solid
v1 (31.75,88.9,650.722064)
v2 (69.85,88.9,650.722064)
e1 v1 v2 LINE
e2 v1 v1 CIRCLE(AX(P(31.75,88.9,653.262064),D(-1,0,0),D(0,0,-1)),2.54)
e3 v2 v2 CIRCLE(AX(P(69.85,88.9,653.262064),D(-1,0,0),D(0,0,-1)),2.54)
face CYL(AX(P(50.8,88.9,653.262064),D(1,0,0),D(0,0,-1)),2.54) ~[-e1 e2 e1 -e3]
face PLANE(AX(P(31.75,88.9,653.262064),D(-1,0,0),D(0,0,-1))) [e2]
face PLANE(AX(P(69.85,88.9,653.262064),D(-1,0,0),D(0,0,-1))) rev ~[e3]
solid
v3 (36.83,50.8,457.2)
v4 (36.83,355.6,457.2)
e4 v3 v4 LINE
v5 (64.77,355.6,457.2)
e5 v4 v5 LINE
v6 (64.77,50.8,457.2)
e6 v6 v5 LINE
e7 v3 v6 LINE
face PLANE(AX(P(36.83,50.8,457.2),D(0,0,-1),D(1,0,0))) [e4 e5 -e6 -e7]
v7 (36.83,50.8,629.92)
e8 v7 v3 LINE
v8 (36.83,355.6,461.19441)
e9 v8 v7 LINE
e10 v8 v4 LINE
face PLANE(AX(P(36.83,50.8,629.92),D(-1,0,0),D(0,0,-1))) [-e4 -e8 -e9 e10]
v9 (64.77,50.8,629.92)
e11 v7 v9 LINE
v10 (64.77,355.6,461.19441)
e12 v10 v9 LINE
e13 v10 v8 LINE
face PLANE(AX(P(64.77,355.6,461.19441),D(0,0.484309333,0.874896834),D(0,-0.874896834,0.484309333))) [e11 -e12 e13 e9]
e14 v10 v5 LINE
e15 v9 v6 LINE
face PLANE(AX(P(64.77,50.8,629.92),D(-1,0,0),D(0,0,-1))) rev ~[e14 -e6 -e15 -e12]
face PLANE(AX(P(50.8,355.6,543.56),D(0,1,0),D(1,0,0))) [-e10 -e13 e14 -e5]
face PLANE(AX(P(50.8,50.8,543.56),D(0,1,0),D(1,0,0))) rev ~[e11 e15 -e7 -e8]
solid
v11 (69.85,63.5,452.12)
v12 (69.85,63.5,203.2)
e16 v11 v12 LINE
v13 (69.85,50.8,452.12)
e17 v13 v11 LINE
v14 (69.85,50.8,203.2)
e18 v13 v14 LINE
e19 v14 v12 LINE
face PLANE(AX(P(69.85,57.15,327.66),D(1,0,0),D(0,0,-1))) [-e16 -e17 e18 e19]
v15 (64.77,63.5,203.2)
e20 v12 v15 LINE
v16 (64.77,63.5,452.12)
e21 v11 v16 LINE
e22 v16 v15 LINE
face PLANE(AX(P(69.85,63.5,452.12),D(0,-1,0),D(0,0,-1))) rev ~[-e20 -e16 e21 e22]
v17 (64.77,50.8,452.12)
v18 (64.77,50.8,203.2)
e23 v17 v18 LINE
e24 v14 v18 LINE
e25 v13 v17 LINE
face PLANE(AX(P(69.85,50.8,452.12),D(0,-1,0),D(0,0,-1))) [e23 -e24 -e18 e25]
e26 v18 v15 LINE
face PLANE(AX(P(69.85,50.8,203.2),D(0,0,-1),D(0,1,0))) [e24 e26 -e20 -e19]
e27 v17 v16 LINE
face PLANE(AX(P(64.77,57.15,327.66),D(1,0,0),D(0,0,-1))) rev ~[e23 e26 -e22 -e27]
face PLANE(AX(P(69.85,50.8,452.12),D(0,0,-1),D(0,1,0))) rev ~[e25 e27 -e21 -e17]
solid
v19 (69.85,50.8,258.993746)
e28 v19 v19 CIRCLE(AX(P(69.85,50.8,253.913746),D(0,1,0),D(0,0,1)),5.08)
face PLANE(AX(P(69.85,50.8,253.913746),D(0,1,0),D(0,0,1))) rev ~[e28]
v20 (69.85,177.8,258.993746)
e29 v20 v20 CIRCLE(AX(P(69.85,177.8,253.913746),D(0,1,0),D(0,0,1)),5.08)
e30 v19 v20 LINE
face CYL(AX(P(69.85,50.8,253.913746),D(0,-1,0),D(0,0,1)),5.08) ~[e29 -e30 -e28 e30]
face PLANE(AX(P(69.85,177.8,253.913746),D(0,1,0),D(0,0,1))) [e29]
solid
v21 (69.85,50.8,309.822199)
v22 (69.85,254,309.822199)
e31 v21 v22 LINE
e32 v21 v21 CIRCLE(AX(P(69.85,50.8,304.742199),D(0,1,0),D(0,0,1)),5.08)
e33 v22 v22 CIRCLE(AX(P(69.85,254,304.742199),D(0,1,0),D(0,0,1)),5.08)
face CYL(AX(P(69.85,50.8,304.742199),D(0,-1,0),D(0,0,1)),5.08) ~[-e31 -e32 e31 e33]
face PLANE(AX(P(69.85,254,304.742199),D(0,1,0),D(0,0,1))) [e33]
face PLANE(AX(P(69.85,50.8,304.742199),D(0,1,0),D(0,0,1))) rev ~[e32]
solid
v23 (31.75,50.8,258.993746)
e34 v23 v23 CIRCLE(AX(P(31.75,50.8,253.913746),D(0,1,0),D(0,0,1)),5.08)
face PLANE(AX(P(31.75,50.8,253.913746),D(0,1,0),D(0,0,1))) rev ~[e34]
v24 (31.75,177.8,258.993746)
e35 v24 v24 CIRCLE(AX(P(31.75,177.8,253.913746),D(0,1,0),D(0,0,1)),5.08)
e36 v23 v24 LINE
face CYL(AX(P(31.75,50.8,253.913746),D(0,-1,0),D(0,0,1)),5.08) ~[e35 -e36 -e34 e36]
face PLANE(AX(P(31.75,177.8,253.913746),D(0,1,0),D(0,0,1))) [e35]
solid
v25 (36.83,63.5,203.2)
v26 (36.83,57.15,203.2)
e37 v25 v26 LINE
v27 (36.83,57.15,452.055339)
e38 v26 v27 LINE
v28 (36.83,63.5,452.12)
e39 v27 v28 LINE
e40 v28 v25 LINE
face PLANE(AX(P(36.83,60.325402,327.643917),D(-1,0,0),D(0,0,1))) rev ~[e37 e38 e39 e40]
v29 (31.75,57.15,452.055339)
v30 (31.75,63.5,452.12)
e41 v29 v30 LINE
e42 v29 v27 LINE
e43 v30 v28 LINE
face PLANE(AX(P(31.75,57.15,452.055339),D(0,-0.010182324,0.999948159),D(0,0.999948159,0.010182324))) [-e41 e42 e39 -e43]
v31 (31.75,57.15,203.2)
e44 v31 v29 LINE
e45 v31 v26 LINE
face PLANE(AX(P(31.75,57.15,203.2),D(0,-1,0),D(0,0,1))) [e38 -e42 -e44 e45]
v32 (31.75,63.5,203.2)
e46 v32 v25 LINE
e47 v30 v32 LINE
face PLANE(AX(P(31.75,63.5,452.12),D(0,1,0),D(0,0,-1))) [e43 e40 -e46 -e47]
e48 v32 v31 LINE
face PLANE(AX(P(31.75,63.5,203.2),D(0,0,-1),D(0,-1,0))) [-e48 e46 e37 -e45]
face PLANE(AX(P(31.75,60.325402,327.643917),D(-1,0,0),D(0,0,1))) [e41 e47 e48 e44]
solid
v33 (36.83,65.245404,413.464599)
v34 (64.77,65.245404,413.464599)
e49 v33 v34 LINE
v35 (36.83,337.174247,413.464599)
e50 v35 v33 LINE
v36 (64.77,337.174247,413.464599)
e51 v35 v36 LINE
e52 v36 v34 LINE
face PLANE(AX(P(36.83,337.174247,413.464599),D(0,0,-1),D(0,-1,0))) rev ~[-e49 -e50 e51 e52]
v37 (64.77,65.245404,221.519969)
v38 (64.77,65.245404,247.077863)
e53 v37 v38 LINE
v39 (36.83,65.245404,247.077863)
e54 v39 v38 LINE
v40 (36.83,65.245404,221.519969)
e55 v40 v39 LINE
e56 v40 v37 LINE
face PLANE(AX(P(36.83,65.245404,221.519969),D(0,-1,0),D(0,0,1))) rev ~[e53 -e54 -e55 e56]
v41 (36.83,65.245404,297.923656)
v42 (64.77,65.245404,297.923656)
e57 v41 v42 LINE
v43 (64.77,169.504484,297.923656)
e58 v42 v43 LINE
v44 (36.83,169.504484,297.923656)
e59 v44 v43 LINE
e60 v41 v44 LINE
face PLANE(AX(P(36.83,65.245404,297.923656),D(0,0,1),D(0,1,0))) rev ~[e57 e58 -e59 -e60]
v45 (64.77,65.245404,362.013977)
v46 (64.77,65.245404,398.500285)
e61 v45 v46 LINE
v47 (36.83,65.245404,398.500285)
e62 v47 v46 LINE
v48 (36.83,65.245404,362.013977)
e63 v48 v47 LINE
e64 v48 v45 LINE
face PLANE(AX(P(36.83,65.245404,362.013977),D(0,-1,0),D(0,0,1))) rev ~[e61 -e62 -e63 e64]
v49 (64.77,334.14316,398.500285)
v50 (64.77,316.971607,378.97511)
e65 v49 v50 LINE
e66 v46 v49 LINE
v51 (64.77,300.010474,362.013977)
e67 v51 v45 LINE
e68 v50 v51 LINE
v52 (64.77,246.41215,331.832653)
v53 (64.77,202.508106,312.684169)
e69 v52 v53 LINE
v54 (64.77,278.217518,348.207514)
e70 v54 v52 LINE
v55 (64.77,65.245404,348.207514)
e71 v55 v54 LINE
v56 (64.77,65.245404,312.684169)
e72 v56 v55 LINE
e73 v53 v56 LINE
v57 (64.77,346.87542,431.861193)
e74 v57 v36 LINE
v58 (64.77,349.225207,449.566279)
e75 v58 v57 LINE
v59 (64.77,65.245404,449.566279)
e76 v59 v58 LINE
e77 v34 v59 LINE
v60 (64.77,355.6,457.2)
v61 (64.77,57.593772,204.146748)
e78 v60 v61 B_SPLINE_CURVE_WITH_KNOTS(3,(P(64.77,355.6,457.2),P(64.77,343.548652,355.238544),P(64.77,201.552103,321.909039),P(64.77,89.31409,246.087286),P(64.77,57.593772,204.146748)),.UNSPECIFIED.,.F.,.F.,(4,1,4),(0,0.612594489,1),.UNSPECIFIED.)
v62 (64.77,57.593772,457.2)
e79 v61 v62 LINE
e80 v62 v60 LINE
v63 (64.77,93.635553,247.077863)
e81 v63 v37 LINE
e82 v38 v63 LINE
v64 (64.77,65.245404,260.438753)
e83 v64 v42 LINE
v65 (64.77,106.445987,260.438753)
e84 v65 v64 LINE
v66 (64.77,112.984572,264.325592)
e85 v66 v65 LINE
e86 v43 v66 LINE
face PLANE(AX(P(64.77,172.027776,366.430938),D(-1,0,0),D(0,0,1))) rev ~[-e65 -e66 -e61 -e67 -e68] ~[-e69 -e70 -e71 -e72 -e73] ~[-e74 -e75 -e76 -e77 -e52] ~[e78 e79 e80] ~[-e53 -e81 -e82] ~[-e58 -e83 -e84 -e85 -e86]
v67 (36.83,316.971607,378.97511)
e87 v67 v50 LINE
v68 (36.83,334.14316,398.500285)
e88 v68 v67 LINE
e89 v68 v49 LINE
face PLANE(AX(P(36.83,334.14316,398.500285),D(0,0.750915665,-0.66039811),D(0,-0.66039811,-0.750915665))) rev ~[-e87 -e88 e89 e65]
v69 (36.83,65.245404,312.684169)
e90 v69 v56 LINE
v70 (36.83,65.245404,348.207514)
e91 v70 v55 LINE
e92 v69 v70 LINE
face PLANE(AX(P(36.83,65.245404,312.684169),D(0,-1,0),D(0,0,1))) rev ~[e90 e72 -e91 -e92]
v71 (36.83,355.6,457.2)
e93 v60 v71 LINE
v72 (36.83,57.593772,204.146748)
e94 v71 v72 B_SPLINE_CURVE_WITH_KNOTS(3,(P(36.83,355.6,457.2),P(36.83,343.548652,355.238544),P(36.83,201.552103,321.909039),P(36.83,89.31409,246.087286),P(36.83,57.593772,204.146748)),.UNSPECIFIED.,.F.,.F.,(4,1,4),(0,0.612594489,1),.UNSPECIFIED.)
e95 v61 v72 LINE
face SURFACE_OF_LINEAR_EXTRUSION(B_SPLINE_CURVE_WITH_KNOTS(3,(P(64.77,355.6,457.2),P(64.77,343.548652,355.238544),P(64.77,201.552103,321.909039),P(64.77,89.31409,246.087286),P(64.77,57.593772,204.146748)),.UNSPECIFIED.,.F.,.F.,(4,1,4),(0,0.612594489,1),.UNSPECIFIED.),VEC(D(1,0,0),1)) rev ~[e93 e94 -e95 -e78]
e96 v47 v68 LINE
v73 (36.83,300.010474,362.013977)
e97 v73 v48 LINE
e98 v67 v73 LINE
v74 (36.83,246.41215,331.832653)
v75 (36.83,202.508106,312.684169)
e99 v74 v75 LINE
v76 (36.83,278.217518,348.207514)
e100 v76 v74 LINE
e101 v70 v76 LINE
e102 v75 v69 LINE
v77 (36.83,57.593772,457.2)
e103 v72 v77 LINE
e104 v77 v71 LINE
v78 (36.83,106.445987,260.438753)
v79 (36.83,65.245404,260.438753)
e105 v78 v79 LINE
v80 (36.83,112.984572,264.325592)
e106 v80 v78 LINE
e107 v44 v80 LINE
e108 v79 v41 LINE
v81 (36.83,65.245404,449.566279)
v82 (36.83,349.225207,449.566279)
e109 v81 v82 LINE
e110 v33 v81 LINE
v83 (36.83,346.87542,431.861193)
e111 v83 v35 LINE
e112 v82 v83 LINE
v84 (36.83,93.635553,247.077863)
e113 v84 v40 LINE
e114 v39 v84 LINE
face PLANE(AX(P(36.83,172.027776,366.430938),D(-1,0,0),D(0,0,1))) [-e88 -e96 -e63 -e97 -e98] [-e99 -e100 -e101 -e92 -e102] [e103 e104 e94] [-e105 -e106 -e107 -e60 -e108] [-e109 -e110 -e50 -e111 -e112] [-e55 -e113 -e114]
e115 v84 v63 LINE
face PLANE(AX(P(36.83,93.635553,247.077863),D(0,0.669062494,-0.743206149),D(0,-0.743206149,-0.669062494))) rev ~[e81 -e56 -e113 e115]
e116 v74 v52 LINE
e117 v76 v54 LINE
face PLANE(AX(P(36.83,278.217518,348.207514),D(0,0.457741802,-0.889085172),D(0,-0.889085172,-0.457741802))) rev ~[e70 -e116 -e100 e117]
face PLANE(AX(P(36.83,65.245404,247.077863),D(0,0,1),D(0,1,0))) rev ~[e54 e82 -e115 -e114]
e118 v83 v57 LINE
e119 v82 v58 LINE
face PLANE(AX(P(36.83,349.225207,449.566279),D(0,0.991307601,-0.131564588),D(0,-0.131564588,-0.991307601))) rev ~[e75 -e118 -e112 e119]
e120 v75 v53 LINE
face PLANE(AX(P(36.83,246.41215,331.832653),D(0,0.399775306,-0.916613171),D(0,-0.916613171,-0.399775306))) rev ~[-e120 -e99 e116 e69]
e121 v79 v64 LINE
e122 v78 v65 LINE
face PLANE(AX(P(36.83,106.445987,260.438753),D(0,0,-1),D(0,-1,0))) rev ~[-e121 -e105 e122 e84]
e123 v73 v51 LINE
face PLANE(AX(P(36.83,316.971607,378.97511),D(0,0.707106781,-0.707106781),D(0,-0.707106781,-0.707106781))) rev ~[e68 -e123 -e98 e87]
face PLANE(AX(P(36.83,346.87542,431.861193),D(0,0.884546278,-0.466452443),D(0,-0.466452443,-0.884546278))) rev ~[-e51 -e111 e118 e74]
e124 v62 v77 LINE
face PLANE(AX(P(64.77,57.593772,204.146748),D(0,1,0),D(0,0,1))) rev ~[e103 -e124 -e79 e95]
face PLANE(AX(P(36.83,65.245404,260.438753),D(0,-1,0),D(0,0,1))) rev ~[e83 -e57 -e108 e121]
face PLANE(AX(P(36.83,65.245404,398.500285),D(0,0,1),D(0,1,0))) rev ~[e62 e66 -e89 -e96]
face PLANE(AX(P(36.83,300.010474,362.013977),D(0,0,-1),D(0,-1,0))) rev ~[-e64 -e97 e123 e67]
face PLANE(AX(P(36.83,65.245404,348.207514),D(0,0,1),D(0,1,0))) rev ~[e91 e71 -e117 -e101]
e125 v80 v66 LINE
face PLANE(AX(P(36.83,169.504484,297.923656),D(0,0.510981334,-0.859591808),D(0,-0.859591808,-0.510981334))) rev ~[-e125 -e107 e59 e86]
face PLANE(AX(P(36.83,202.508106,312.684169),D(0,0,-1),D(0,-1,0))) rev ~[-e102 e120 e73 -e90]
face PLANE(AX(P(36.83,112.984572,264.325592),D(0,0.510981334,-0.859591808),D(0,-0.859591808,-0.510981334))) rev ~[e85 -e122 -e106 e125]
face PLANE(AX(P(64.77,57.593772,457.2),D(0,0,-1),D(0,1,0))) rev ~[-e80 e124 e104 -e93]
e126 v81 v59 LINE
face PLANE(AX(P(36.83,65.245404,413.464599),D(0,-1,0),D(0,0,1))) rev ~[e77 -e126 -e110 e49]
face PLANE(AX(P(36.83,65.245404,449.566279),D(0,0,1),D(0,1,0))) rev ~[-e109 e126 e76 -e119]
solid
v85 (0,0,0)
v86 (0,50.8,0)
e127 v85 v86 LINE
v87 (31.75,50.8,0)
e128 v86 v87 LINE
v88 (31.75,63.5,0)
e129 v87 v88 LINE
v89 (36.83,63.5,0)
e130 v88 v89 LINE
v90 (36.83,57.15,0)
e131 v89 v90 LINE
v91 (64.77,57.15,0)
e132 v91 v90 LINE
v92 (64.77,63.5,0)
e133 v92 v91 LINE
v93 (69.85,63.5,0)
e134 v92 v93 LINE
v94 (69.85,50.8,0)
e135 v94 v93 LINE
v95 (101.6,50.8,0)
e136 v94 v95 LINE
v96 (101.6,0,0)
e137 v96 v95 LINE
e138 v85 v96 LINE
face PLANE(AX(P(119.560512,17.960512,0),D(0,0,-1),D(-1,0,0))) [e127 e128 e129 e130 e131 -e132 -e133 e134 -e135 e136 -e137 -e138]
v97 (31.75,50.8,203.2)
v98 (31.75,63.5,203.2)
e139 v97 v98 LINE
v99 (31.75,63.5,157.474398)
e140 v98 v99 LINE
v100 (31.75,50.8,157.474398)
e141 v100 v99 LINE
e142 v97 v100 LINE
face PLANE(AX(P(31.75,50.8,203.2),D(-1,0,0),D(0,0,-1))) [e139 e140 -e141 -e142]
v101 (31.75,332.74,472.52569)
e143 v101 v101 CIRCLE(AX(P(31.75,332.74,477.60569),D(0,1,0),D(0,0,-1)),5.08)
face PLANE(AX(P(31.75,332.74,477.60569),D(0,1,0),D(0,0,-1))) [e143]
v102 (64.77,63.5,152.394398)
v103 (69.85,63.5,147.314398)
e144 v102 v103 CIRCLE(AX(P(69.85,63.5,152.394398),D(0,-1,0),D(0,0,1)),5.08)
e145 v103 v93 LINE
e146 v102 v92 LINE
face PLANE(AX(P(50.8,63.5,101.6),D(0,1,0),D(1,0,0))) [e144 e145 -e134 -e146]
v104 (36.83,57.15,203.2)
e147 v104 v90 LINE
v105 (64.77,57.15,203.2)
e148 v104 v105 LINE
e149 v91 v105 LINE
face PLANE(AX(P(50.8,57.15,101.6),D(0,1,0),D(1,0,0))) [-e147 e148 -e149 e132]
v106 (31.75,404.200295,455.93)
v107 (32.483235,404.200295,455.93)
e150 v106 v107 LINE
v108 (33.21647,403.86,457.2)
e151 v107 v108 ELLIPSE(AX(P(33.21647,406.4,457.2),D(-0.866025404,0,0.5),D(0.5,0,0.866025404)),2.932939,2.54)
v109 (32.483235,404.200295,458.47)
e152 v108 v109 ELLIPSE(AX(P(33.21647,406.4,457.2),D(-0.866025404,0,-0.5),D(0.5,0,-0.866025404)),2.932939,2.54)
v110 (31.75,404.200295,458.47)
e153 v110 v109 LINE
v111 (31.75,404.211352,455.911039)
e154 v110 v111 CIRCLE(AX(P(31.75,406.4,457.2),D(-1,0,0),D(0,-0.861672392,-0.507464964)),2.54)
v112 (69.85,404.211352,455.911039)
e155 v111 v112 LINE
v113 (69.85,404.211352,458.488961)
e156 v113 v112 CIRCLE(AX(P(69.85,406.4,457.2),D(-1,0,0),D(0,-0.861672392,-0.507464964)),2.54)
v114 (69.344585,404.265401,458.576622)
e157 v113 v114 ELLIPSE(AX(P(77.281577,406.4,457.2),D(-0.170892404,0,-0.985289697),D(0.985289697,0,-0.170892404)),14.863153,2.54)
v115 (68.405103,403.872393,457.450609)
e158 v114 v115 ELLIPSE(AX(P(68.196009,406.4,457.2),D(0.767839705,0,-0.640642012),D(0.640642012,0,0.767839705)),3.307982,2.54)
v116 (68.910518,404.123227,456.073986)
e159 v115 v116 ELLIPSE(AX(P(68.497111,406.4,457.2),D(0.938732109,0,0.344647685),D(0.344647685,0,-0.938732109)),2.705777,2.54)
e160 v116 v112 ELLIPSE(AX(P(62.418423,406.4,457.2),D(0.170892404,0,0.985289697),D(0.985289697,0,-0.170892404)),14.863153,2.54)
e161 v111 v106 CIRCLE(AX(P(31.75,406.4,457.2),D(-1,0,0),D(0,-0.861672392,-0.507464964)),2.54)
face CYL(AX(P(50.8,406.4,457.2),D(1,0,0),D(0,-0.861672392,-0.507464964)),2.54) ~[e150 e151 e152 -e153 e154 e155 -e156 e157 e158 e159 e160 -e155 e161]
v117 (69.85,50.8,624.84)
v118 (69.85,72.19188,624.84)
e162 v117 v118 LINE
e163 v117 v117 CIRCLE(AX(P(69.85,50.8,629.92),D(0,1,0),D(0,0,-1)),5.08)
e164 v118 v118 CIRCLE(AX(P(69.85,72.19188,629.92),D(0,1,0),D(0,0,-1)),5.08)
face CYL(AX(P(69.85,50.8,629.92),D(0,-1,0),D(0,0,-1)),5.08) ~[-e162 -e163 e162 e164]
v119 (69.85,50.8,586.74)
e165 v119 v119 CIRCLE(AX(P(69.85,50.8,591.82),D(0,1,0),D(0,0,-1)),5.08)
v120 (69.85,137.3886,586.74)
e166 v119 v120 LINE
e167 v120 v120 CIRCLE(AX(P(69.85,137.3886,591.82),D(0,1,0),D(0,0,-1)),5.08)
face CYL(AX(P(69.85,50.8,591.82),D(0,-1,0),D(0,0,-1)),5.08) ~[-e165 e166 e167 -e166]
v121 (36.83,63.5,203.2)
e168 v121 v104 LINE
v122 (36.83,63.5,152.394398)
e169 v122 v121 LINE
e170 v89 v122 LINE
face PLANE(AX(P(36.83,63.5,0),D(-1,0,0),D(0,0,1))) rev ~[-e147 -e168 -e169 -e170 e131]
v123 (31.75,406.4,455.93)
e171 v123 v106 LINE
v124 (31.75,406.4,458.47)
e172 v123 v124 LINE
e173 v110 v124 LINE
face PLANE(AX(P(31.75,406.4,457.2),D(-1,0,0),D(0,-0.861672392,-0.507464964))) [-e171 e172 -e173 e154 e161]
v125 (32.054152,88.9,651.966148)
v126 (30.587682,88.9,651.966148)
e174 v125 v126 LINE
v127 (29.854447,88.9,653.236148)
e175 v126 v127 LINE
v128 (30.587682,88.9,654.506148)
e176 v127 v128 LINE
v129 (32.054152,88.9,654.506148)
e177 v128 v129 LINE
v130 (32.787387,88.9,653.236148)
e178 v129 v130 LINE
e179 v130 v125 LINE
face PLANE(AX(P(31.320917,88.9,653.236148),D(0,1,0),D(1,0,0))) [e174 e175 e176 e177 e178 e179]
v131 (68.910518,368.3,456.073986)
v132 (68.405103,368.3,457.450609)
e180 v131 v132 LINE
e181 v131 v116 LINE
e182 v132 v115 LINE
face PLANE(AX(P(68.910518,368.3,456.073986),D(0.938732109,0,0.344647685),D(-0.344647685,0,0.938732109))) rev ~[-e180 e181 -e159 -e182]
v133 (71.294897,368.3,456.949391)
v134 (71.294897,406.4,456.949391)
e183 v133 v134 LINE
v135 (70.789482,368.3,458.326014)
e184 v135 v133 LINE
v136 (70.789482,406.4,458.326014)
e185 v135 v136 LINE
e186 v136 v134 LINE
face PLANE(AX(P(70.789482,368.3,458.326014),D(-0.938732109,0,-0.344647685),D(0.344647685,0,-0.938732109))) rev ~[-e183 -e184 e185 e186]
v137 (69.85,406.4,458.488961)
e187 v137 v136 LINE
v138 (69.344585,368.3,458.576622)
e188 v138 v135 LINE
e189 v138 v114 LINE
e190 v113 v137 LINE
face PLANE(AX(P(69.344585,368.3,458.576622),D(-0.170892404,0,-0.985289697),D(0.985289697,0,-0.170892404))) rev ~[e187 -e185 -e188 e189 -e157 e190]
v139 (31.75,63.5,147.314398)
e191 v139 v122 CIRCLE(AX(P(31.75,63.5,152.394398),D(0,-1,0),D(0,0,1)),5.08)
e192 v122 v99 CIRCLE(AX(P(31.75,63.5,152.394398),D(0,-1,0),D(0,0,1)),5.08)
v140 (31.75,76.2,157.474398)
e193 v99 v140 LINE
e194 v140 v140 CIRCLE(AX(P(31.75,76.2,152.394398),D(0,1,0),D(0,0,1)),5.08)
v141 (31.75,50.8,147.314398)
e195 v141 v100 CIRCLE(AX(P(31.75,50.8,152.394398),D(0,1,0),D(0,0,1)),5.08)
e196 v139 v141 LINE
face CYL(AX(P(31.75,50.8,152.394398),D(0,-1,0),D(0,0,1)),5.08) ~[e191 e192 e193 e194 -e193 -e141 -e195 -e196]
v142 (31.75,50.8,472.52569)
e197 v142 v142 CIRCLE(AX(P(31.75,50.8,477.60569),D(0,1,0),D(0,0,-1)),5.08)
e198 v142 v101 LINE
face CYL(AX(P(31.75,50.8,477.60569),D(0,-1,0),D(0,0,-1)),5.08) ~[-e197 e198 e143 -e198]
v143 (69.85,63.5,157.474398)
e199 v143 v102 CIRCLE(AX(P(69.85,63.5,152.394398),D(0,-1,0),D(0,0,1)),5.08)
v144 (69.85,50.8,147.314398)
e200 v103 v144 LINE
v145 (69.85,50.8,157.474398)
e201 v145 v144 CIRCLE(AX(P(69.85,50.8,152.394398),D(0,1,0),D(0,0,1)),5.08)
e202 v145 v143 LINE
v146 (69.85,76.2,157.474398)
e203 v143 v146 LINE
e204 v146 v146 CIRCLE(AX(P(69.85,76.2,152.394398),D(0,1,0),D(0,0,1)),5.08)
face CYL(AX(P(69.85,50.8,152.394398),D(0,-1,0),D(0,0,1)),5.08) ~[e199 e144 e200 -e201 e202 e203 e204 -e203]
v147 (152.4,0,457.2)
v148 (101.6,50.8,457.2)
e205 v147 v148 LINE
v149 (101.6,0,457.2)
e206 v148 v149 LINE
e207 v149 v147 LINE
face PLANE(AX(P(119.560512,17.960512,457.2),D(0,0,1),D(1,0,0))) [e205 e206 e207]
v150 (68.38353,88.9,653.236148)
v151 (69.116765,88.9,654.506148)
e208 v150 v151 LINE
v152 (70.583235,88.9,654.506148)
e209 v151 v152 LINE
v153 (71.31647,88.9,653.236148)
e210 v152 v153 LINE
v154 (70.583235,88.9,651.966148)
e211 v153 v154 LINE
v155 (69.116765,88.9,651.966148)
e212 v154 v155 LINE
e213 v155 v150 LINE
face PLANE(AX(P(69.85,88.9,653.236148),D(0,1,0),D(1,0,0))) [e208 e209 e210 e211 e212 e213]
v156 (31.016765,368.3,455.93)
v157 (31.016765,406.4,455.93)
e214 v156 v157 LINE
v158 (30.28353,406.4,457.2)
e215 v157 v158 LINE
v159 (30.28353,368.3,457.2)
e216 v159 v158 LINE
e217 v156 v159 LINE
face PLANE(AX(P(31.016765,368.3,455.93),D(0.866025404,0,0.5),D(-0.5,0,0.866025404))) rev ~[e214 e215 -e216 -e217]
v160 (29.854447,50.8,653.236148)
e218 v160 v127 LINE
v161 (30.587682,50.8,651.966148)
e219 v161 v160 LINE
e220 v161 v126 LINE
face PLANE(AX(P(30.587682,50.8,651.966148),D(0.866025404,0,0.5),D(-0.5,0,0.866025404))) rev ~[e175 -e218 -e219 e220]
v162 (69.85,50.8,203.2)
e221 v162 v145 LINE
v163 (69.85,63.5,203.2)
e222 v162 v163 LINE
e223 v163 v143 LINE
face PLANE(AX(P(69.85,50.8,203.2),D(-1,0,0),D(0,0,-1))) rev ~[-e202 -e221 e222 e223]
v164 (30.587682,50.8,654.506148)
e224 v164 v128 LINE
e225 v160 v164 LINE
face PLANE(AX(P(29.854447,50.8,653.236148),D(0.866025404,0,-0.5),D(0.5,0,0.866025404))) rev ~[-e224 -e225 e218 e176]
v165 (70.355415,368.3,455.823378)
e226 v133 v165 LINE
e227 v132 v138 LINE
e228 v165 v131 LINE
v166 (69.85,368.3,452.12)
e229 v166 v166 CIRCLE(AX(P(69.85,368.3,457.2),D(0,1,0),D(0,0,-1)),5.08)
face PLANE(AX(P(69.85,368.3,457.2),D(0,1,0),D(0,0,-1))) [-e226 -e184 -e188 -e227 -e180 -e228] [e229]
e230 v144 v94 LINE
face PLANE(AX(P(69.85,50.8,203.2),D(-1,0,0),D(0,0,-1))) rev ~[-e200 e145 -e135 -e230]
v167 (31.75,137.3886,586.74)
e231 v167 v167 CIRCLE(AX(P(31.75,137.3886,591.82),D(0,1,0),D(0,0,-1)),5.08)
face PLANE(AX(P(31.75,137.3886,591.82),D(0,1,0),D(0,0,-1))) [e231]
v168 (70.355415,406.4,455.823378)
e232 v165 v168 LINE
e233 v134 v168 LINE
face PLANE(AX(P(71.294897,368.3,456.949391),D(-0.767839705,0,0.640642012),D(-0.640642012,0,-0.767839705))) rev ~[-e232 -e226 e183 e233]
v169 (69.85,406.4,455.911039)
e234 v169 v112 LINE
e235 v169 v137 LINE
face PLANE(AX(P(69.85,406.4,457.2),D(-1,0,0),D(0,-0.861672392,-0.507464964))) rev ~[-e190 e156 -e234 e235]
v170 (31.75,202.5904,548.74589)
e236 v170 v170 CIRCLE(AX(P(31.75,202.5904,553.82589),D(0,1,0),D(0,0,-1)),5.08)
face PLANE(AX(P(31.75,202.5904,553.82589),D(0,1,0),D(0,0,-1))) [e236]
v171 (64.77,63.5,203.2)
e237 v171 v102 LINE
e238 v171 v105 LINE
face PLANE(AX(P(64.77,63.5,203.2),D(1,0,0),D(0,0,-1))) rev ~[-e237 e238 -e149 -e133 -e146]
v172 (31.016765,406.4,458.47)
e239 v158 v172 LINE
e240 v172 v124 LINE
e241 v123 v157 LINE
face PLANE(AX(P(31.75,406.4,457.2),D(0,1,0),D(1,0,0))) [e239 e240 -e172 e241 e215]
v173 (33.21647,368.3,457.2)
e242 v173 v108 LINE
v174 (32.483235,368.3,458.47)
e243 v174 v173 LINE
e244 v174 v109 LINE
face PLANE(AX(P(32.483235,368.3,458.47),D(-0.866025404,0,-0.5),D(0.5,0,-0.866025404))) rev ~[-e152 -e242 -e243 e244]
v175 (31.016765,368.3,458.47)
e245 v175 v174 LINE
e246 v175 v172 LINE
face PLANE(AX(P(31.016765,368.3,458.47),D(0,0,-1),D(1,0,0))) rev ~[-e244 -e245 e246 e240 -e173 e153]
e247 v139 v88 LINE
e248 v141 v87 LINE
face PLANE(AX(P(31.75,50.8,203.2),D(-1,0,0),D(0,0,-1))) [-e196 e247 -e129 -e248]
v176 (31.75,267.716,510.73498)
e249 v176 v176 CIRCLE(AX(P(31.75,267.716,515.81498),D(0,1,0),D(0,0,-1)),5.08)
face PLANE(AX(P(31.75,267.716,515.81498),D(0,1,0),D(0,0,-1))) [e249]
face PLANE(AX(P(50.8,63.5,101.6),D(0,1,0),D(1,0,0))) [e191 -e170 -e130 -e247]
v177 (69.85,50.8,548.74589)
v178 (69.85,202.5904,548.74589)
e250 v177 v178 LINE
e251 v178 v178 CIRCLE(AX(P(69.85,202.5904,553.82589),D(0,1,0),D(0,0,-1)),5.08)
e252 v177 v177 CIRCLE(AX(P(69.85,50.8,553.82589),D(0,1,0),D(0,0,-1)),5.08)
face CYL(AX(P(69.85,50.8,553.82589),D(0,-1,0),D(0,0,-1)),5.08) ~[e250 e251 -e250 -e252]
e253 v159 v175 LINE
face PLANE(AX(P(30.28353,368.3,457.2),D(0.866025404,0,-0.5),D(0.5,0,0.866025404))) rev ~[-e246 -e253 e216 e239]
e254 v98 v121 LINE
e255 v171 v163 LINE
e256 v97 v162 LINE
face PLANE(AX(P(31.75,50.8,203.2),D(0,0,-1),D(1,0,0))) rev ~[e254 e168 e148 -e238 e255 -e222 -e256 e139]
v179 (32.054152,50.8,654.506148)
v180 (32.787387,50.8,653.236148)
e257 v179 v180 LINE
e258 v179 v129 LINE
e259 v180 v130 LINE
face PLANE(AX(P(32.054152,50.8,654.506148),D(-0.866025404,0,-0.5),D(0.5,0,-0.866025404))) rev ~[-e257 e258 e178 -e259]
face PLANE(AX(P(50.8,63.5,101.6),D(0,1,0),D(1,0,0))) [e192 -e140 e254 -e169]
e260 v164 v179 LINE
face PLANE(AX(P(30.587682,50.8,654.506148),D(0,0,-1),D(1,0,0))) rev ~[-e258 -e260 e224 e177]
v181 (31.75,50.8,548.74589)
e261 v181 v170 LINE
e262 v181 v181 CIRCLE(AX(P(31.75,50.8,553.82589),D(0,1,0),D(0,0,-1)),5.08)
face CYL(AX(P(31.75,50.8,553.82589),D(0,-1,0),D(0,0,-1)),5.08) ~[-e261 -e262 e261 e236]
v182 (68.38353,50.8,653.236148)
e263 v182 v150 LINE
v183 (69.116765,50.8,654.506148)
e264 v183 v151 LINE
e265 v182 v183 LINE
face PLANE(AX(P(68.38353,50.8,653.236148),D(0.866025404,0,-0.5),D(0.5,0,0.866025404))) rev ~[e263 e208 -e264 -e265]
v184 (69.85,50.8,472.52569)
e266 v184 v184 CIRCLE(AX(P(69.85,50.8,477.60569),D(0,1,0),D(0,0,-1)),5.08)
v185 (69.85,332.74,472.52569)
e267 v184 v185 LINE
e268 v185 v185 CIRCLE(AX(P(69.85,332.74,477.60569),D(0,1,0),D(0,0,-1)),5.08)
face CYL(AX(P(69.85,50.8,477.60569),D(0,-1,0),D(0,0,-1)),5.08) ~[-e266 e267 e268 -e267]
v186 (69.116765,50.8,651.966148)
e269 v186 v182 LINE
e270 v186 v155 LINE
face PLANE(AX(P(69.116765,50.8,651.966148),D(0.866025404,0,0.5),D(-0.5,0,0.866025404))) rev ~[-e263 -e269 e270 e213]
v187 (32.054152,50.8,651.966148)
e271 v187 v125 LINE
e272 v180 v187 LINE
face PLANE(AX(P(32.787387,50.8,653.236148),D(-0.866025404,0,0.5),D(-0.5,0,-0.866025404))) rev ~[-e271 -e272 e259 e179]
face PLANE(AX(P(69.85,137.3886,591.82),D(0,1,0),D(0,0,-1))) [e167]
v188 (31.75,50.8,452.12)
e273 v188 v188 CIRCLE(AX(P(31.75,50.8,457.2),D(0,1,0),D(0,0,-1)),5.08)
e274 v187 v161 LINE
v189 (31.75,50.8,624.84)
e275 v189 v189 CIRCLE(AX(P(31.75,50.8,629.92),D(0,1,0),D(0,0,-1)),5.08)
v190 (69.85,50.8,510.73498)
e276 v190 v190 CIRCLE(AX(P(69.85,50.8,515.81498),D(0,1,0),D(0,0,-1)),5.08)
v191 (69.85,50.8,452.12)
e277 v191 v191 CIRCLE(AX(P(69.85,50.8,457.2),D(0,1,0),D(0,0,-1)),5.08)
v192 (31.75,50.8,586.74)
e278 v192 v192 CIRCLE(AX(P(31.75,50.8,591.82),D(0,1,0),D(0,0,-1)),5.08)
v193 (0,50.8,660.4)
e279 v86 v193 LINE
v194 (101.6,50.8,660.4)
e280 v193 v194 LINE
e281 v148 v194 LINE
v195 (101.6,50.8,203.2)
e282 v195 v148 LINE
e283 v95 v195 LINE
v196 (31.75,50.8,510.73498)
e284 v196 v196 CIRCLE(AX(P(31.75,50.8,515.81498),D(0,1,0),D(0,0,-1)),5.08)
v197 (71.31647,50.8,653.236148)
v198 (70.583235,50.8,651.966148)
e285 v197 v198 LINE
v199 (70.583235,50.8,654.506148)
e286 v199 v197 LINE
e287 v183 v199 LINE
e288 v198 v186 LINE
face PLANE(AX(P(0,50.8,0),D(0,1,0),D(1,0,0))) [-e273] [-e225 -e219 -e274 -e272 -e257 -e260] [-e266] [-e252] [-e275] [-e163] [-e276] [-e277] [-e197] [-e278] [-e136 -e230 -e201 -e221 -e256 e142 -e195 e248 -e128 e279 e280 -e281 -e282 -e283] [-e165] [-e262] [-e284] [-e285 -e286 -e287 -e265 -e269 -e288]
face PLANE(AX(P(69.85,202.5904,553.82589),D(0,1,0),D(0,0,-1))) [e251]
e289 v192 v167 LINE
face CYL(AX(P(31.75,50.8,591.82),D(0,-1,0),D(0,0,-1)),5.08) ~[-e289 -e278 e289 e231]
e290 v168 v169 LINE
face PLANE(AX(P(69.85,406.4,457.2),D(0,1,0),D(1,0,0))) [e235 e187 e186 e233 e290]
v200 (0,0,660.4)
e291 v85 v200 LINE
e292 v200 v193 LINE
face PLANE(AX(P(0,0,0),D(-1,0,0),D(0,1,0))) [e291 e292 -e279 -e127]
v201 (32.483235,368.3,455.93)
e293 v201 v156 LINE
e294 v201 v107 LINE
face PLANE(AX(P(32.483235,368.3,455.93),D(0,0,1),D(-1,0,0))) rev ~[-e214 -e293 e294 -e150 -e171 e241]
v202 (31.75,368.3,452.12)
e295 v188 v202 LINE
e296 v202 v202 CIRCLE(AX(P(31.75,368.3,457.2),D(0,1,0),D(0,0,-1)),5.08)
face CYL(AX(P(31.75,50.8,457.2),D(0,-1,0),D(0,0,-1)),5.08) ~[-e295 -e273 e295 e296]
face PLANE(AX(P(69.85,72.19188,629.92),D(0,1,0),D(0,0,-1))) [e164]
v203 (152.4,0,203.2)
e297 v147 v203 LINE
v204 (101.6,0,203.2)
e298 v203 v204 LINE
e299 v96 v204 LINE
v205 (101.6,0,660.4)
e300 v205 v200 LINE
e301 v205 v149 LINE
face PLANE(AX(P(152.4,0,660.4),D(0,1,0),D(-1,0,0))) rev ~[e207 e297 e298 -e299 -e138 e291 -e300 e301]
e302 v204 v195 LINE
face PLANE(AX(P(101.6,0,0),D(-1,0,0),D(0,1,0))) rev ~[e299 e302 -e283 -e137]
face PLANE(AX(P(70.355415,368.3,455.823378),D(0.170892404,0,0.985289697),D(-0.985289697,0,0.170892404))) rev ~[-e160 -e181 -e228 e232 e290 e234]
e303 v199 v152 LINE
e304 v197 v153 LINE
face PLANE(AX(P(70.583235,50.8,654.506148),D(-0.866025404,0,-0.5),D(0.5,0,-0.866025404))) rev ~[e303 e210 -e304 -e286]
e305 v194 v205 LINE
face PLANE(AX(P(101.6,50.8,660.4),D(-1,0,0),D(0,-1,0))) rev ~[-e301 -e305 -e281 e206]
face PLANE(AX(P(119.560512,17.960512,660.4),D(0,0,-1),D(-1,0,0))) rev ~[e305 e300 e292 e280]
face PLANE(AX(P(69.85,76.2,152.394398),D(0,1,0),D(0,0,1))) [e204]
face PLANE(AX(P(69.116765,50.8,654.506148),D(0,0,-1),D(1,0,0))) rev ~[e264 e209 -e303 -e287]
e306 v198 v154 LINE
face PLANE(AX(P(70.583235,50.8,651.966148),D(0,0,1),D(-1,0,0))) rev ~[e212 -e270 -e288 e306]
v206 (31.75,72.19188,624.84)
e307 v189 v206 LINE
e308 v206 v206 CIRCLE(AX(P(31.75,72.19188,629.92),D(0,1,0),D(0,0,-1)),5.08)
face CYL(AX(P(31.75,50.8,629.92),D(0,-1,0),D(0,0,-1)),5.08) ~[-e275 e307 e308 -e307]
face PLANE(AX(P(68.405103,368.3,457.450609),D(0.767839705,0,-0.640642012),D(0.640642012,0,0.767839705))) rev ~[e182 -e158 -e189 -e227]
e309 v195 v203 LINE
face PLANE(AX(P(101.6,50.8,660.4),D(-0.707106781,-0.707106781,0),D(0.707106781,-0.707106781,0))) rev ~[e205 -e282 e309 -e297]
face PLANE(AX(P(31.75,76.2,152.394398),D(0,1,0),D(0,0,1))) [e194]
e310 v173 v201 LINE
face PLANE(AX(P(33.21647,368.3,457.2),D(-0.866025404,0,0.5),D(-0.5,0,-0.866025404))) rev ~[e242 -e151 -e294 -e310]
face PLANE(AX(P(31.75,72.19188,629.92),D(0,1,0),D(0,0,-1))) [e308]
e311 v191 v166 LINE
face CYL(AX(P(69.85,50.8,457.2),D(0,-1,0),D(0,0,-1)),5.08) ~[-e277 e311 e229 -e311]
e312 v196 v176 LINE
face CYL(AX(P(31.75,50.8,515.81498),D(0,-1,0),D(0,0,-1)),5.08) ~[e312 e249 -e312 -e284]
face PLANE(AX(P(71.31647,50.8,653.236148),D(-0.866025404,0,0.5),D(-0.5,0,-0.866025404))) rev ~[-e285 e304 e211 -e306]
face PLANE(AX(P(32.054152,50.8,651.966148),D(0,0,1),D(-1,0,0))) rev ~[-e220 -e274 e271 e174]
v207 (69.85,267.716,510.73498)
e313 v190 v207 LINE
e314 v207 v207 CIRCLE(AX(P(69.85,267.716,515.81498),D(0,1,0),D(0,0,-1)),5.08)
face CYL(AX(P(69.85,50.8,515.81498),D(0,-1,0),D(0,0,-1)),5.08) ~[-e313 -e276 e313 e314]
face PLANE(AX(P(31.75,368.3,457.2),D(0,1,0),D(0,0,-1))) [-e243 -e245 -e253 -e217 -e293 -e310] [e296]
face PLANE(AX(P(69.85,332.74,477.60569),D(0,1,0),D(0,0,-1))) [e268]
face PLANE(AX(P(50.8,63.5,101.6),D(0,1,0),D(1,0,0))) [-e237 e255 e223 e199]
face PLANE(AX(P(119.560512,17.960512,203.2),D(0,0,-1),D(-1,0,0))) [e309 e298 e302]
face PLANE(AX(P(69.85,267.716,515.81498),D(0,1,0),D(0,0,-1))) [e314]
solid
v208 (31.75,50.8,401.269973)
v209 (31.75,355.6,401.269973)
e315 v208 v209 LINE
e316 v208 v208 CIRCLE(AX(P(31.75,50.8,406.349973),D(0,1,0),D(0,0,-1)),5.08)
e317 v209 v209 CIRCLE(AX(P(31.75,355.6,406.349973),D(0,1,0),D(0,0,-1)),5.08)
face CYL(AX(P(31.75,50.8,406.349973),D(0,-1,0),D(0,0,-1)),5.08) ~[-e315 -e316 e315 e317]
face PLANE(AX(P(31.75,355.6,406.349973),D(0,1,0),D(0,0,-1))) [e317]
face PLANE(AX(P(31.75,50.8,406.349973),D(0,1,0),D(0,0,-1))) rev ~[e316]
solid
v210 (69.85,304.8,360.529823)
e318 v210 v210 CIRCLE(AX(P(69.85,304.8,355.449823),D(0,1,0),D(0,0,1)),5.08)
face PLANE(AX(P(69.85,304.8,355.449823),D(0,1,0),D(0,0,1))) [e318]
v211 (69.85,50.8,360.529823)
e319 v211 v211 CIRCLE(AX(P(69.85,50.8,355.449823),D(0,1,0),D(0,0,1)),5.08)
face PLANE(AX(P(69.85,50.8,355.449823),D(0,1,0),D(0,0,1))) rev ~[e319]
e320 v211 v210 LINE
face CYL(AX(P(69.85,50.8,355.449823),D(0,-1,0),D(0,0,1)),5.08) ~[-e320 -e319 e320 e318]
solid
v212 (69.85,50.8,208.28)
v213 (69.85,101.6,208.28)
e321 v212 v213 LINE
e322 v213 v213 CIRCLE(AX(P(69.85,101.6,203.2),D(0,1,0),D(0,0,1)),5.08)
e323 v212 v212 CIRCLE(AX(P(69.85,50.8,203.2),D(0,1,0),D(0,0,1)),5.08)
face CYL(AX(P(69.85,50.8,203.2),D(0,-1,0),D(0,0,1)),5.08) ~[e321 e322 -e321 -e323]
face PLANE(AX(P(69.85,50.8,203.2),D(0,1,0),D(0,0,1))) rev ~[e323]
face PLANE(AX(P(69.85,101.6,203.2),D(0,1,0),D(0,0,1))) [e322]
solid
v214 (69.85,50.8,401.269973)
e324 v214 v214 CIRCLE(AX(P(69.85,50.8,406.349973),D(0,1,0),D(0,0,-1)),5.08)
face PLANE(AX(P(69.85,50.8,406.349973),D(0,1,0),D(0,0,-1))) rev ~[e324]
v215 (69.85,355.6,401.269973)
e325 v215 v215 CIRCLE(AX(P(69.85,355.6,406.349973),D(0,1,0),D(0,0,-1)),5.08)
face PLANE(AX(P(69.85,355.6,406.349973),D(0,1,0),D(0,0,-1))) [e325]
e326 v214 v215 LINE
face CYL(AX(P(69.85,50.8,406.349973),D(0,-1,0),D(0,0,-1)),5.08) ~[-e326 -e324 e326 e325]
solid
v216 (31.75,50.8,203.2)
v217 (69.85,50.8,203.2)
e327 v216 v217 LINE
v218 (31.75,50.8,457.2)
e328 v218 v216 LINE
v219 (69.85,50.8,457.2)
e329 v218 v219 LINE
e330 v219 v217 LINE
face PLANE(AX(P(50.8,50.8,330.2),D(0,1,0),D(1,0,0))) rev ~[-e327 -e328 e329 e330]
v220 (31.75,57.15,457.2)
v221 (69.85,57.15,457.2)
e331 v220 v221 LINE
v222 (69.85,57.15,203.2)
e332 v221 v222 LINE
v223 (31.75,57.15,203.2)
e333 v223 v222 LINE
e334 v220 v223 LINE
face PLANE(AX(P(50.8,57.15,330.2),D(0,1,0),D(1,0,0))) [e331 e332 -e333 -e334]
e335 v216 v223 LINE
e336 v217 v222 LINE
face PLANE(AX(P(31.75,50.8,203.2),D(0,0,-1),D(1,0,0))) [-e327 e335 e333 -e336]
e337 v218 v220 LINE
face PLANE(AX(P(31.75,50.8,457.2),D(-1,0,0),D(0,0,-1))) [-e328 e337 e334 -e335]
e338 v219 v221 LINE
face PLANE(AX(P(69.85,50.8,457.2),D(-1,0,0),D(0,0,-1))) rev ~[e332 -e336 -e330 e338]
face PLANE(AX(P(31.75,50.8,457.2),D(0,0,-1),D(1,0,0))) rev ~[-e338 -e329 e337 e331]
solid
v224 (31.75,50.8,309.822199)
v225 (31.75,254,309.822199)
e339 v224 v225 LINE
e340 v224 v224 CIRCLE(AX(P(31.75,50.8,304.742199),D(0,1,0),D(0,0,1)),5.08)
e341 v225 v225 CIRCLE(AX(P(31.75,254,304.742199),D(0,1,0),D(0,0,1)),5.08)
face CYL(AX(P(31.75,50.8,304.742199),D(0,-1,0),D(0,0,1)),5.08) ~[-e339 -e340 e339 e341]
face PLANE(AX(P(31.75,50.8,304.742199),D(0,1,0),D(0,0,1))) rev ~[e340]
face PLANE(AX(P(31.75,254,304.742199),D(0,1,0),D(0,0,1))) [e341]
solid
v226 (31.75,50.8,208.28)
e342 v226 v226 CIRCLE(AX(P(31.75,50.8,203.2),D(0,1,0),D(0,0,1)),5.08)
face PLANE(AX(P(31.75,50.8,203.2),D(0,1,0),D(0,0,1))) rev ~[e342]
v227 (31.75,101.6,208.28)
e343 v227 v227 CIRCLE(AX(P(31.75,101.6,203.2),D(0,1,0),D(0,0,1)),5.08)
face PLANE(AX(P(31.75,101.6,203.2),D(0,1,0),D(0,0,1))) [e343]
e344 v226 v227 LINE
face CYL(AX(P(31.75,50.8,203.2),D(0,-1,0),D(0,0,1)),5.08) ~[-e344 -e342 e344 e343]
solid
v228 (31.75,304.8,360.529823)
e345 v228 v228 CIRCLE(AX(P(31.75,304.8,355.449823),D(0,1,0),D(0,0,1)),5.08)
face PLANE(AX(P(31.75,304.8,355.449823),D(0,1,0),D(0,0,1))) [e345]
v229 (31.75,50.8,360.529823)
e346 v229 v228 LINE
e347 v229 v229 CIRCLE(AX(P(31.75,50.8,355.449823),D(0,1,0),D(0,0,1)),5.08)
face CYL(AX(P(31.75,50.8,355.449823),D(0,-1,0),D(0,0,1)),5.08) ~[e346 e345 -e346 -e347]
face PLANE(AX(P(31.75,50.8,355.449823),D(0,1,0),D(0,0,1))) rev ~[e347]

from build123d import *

# Parameters (mm, degrees)
SKETCH4_W              = 101.6
SKETCH4_H              = 50.8
BOSS_EXTRUDE2_DEPTH    = 660.4
SKETCH11_R             = 5.08
BOSS_EXTRUDE4_DEPTH    = 317.5
SKETCH13_R             = 5.08
BOSS_EXTRUDE5_DEPTH    = 281.94
SKETCH14_R             = 5.08
BOSS_EXTRUDE6_DEPTH    = 216.916
SKETCH15_R             = 5.08
BOSS_EXTRUDE7_DEPTH    = 151.7904
SKETCH16_R             = 5.08
BOSS_EXTRUDE8_DEPTH    = 86.5886
SKETCH17_R             = 5.08
BOSS_EXTRUDE9_DEPTH    = 21.39188
SKETCH27_W             = 27.94
SKETCH27_H             = 172.72
EXTRUDE_THIN8_DEPTH    = 304.8
SKETCH30_W             = 38.1
SKETCH30_H             = 203.2
BOSS_EXTRUDE20_DEPTH   = 12.7
CUT_EXTRUDE5_DEPTH     = 6.35
BOSS_EXTRUDE22_DEPTH   = 27.94
SKETCH33_W             = 38.1
SKETCH33_H             = 254
BOSS_EXTRUDE25_DEPTH   = 6.35
SKETCH35_W             = 248.92
SKETCH35_H             = 12.7
BOSS_EXTRUDE28_DEPTH   = 5.08
BOSS_EXTRUDE29_DEPTH   = 5.08
SKETCH37_R             = 5.08
BOSS_EXTRUDE31_DEPTH   = 304.8
BOSS_EXTRUDE31_2_DEPTH = 304.8
CUT_EXTRUDE6_DEPTH     = 27.94
SKETCH40_R             = 5.08
BOSS_EXTRUDE32_DEPTH   = 254
BOSS_EXTRUDE32_2_DEPTH = 254
SKETCH41_R             = 5.08
BOSS_EXTRUDE34_DEPTH   = 203.2
BOSS_EXTRUDE34_2_DEPTH = 203.2
SKETCH42_R             = 5.08
BOSS_EXTRUDE36_DEPTH   = 127
BOSS_EXTRUDE36_2_DEPTH = 127
SKETCH43_R             = 5.08
BOSS_EXTRUDE37_DEPTH   = 50.8
BOSS_EXTRUDE37_2_DEPTH = 50.8
SKETCH44_R             = 5.08
BOSS_EXTRUDE38_DEPTH   = 25.4
CUT_EXTRUDE7_DEPTH     = 27.94
CUT_EXTRUDE9_DEPTH     = 27.94
CUT_EXTRUDE10_DEPTH    = 27.94
CUT_EXTRUDE11_DEPTH    = 27.94
CUT_EXTRUDE12_DEPTH    = 27.94
BOSS_EXTRUDE39_DEPTH   = 660.4
CUT_EXTRUDE13_DEPTH    = 203.2
CUT_EXTRUDE14_DEPTH    = 203.2
BOSS_EXTRUDE40_DEPTH   = 38.1
SKETCH56_W             = 38.1
SKETCH56_H             = 2.54
BOSS_EXTRUDE41_DEPTH   = 38.1
SKETCH58_W             = 38.1
SKETCH58_H             = 2.54


with BuildPart() as part:
    # Sketch4 → Boss-Extrude2 (new body)
    with BuildSketch(Plane.XY):
        with Locations((50.8, 25.4)):
            Rectangle(SKETCH4_W, SKETCH4_H)
    extrude(amount=BOSS_EXTRUDE2_DEPTH)

    # Sketch11 → Boss-Extrude4 (add)
    with BuildSketch(Plane(origin=(0, 50.8, 0), x_dir=(1, 0, 0), z_dir=(0, 1, 0))):
        with Locations(Location((69.85, -457.2, 0), (0, 0, 90))):
            Circle(SKETCH11_R)
        with Locations(Location((31.75, -457.2, 0), (0, 0, 90))):
            Circle(SKETCH11_R)
    extrude(amount=BOSS_EXTRUDE4_DEPTH)

    # Sketch13 → Boss-Extrude5 (add)
    with BuildSketch(Plane(origin=(0, 50.8, 0), x_dir=(1, 0, 0), z_dir=(0, 1, 0))):
        with Locations(Location((31.75, -477.605690353, 0), (0, 0, 90))):
            Circle(SKETCH13_R)
        with Locations(Location((69.85, -477.605690353, 0), (0, 0, 90))):
            Circle(SKETCH13_R)
    extrude(amount=BOSS_EXTRUDE5_DEPTH)

    # Sketch14 → Boss-Extrude6 (add)
    with BuildSketch(Plane(origin=(0, 50.8, 0), x_dir=(1, 0, 0), z_dir=(0, 1, 0))):
        with Locations(Location((31.75, -515.814980038, 0), (0, 0, 90))):
            Circle(SKETCH14_R)
        with Locations(Location((69.85, -515.814980038, 0), (0, 0, 90))):
            Circle(SKETCH14_R)
    extrude(amount=BOSS_EXTRUDE6_DEPTH)

    # Sketch15 → Boss-Extrude7 (add)
    with BuildSketch(Plane(origin=(0, 50.8, 0), x_dir=(1, 0, 0), z_dir=(0, 1, 0))):
        with Locations(Location((31.75, -553.825889709, 0), (0, 0, 90))):
            Circle(SKETCH15_R)
        with Locations(Location((69.85, -553.825889709, 0), (0, 0, 90))):
            Circle(SKETCH15_R)
    extrude(amount=BOSS_EXTRUDE7_DEPTH)

    # Sketch16 → Boss-Extrude8 (add)
    with BuildSketch(Plane(origin=(0, 50.8, 0), x_dir=(1, 0, 0), z_dir=(0, 1, 0))):
        with Locations(Location((31.75, -591.82, 0), (0, 0, 90))):
            Circle(SKETCH16_R)
        with Locations(Location((69.85, -591.82, 0), (0, 0, 90))):
            Circle(SKETCH16_R)
    extrude(amount=BOSS_EXTRUDE8_DEPTH)

    # Sketch17 → Boss-Extrude9 (add)
    with BuildSketch(Plane(origin=(0, 50.8, 0), x_dir=(1, 0, 0), z_dir=(0, 1, 0))):
        with Locations(Location((31.75, -629.92, 0), (0, 0, 90))):
            Circle(SKETCH17_R)
        with Locations(Location((69.85, -629.92, 0), (0, 0, 90))):
            Circle(SKETCH17_R)
    extrude(amount=BOSS_EXTRUDE9_DEPTH)

    # Sketch30 → Boss-Extrude20 (add)
    with BuildSketch(Plane(origin=(0, 50.8, 0), x_dir=(1, 0, 0), z_dir=(0, 1, 0))):
        with Locations((50.8, -101.6)):
            Rectangle(SKETCH30_W, SKETCH30_H)
    extrude(amount=BOSS_EXTRUDE20_DEPTH)

    # Sketch31 → Cut-Extrude5 (cut)
    with BuildSketch(Plane(origin=(0, 63.5, 0), x_dir=(1, 0, 0), z_dir=(0, 1, 0))):
        Polygon((50.8, -203.2), (64.77, -203.2), (64.77, 0), (36.83, 0), (36.83, -203.2), align=None)
    extrude(amount=-CUT_EXTRUDE5_DEPTH, mode=Mode.SUBTRACT)

    # Sketch44 → Boss-Extrude38 (add)
    with BuildSketch(Plane(origin=(0, 50.8, 0), x_dir=(1, 0, 0), z_dir=(0, 1, 0))):
        with Locations(Location((69.85, -152.394398331, 0), (0, 0, 270))):
            Circle(SKETCH44_R)
        with Locations(Location((31.75, -152.394398331, 0), (0, 0, 270))):
            Circle(SKETCH44_R)
    extrude(amount=BOSS_EXTRUDE38_DEPTH)

    # Sketch51 → Boss-Extrude39 (add)
    with BuildSketch(Plane.XY.offset(660.4)):
        Polygon((101.6, 50.8), (152.4, 0), (101.6, 0), align=None)
    extrude(amount=-BOSS_EXTRUDE39_DEPTH)

    # Sketch52 → Cut-Extrude13 (cut)
    with BuildSketch(Plane.XY.offset(660.4)):
        Polygon((101.6, 50.8), (101.6, 0), (152.4, 0), align=None)
    extrude(amount=-CUT_EXTRUDE13_DEPTH, mode=Mode.SUBTRACT)

    # Sketch53 → Cut-Extrude14 (cut)
    with BuildSketch(Plane(origin=(0, 0, 0), x_dir=(-1, 0, 0), z_dir=(0, 0, -1))):
        Polygon((-101.6, 50.8), (-152.4, 0), (-101.6, 0), align=None)
    extrude(amount=-CUT_EXTRUDE14_DEPTH, mode=Mode.SUBTRACT)

    # Sketch55 → Boss-Extrude40 (add)
    with BuildSketch(Plane(origin=(0, 368.3, 0), x_dir=(1, 0, 0), z_dir=(0, 1, 0))):
        Polygon((70.789482088, -458.32601365), (71.29489747, -456.94939147), (70.355415381, -455.82337782), (68.910517912, -456.07398635), (68.40510253, -457.45060853), (69.344584619, -458.57662218), align=None)
        Polygon((33.216469684, -457.2), (32.483234842, -455.93), (31.016765158, -455.93), (30.283530316, -457.2), (31.016765158, -458.47), (32.483234842, -458.47), align=None)
    extrude(amount=BOSS_EXTRUDE40_DEPTH)

    # Sketch56 → Revolve-Thin2 (revolve)
    with BuildSketch(Plane(origin=(0, 406.4, 0), x_dir=(1, 0, 0), z_dir=(0, 1, 0)), mode=Mode.PRIVATE) as revolve_thin2_sk:
        with Locations((50.8, -458.47)):
            Rectangle(SKETCH56_W, SKETCH56_H)
    revolve(revolve_thin2_sk.sketch.rotate(Axis((69.85, 406.4, 457.2), (-1, 0, 0)), 239.504880717), axis=Axis((69.85, 406.4, 457.2), (-1, 0, 0)))

    # Sketch57 → Boss-Extrude41 (add)
    with BuildSketch(Plane(origin=(0, 50.8, 0), x_dir=(1, 0, 0), z_dir=(0, 1, 0))):
        Polygon((71.316469684, -653.236147929), (70.583234842, -651.966147929), (69.116765158, -651.966147929), (68.383530316, -653.236147929), (69.116765158, -654.506147929), (70.583234842, -654.506147929), align=None)
        Polygon((32.787386554, -653.236147929), (32.054151712, -651.966147929), (30.587682028, -651.966147929), (29.854447186, -653.236147929), (30.587682028, -654.506147929), (32.054151712, -654.506147929), align=None)
    extrude(amount=BOSS_EXTRUDE41_DEPTH)


with BuildPart() as body_2:
    # Sketch27 → Extrude-Thin8 (new body)
    with BuildSketch(Plane(origin=(0, 50.8, 0), x_dir=(1, 0, 0), z_dir=(0, 1, 0))):
        with Locations((50.8, -543.56)):
            Rectangle(SKETCH27_W, SKETCH27_H)
    extrude(amount=EXTRUDE_THIN8_DEPTH)

    # Sketch38 → Cut-Extrude6 (cut)
    with BuildSketch(Plane(origin=(64.77, 0, 0), x_dir=(0, 0, -1), z_dir=(1, 0, 0))):
        Polygon((-461.194409547, 355.6), (-629.92, 50.8), (-629.92, 355.6), align=None)
    extrude(amount=-CUT_EXTRUDE6_DEPTH, mode=Mode.SUBTRACT)


with BuildPart() as body_3:
    # Sketch32 → Boss-Extrude22 (new body)
    with BuildSketch(Plane(origin=(64.77, 0, 0), x_dir=(0, 0, -1), z_dir=(1, 0, 0))):
        with BuildLine():
            Line((-204.146747954, 57.593771606), (-457.2, 57.593771606))
            Line((-457.2, 57.593771606), (-457.2, 355.6))
            add(Edge.make_bspline(
                [(-457.2, 355.6), (-355.238544006, 343.548652424), (-321.909039404, 201.552102845), (-246.087286314, 89.314090161), (-204.146747954, 57.593771606)],
                knots=[0, 0, 0, 0, 0.612594489, 1, 1, 1, 1], degree=3))
        make_face()
    extrude(amount=-BOSS_EXTRUDE22_DEPTH)

    # Sketch45 → Cut-Extrude7 (cut)
    with BuildSketch(Plane.ZY.offset(-36.83)):
        Polygon((247.077862511, 65.2454043), (247.077862511, 93.635552955), (221.519968916, 65.2454043), align=None)
    extrude(amount=-CUT_EXTRUDE7_DEPTH, mode=Mode.SUBTRACT)

    # Sketch46 → Cut-Extrude9 (cut)
    with BuildSketch(Plane.ZY.offset(-36.83)):
        Polygon((264.325592381, 65.2454043), (297.923655529, 65.2454043), (297.923655529, 169.504483935), (264.325592381, 112.984572322), (260.438753217, 106.445986897), (260.438753217, 65.2454043), align=None)
    extrude(amount=-CUT_EXTRUDE9_DEPTH, mode=Mode.SUBTRACT)

    # Sketch47 → Cut-Extrude10 (cut)
    with BuildSketch(Plane.ZY.offset(-36.83)):
        Polygon((312.684169029, 65.2454043), (348.207514412, 65.2454043), (348.207514412, 253.255753437), (348.207514412, 278.217517724), (331.832653282, 246.412150224), (312.684169029, 202.508105558), align=None)
    extrude(amount=-CUT_EXTRUDE10_DEPTH, mode=Mode.SUBTRACT)

    # Sketch48 → Cut-Extrude11 (cut)
    with BuildSketch(Plane.ZY.offset(-36.83)):
        Polygon((362.013977394, 65.2454043), (398.50028477, 65.2454043), (398.50028477, 304.417048139), (398.50028477, 334.143160243), (378.975110382, 316.971607097), (362.013977394, 300.010474109), align=None)
    extrude(amount=-CUT_EXTRUDE11_DEPTH, mode=Mode.SUBTRACT)

    # Sketch49 → Cut-Extrude12 (cut)
    with BuildSketch(Plane.ZY.offset(-36.83)):
        Polygon((413.464598827, 65.2454043), (449.566278927, 65.2454043), (449.566278927, 337.174247116), (449.566278927, 349.225207382), (431.861192586, 346.875419697), (413.464598827, 337.174247116), align=None)
    extrude(amount=-CUT_EXTRUDE12_DEPTH, mode=Mode.SUBTRACT)


with BuildPart() as body_4:
    # Sketch33 → Boss-Extrude25 (new body)
    with BuildSketch(Plane(origin=(0, 50.8, 0), x_dir=(1, 0, 0), z_dir=(0, 1, 0))):
        with Locations((50.8, -330.2)):
            Rectangle(SKETCH33_W, SKETCH33_H)
    extrude(amount=BOSS_EXTRUDE25_DEPTH)


with BuildPart() as body_5:
    # Sketch35 → Boss-Extrude28 (new body)
    with BuildSketch(Plane(origin=(69.85, 0, 0), x_dir=(0, 0, -1), z_dir=(1, 0, 0))):
        with Locations((-327.66, 57.15)):
            Rectangle(SKETCH35_W, SKETCH35_H)
    extrude(amount=-BOSS_EXTRUDE28_DEPTH)


with BuildPart() as body_6:
    # Sketch36 → Boss-Extrude29 (new body)
    with BuildSketch(Plane.ZY.offset(-31.75)):
        Polygon((203.2, 63.5), (203.2, 57.15), (452.055338889, 57.15), (452.12, 63.5), align=None)
    extrude(amount=-BOSS_EXTRUDE29_DEPTH)


with BuildPart() as body_7:
    # Sketch37 → Boss-Extrude31 (new body)
    with BuildSketch(Plane(origin=(0, 50.8, 0), x_dir=(1, 0, 0), z_dir=(0, 1, 0))):
        with Locations(Location((69.85, -406.349972603, 0), (0, 0, 90))):
            Circle(SKETCH37_R)
    extrude(amount=BOSS_EXTRUDE31_DEPTH)


with BuildPart() as body_8:
    # Sketch37 → Boss-Extrude31 2 (new body)
    with BuildSketch(Plane(origin=(0, 50.8, 0), x_dir=(1, 0, 0), z_dir=(0, 1, 0))):
        with Locations(Location((31.75, -406.349972603, 0), (0, 0, 90))):
            Circle(SKETCH37_R)
    extrude(amount=BOSS_EXTRUDE31_2_DEPTH)


with BuildPart() as body_9:
    # Sketch40 → Boss-Extrude32 (new body)
    with BuildSketch(Plane(origin=(0, 50.8, 0), x_dir=(1, 0, 0), z_dir=(0, 1, 0))):
        with Locations(Location((69.85, -355.449822756, 0), (0, 0, 270))):
            Circle(SKETCH40_R)
    extrude(amount=BOSS_EXTRUDE32_DEPTH)


with BuildPart() as body_10:
    # Sketch40 → Boss-Extrude32 2 (new body)
    with BuildSketch(Plane(origin=(0, 50.8, 0), x_dir=(1, 0, 0), z_dir=(0, 1, 0))):
        with Locations(Location((31.75, -355.449822756, 0), (0, 0, 270))):
            Circle(SKETCH40_R)
    extrude(amount=BOSS_EXTRUDE32_2_DEPTH)


with BuildPart() as body_11:
    # Sketch41 → Boss-Extrude34 (new body)
    with BuildSketch(Plane(origin=(0, 50.8, 0), x_dir=(1, 0, 0), z_dir=(0, 1, 0))):
        with Locations(Location((69.85, -304.742199179, 0), (0, 0, 270))):
            Circle(SKETCH41_R)
    extrude(amount=BOSS_EXTRUDE34_DEPTH)


with BuildPart() as body_12:
    # Sketch41 → Boss-Extrude34 2 (new body)
    with BuildSketch(Plane(origin=(0, 50.8, 0), x_dir=(1, 0, 0), z_dir=(0, 1, 0))):
        with Locations(Location((31.75, -304.742199179, 0), (0, 0, 270))):
            Circle(SKETCH41_R)
    extrude(amount=BOSS_EXTRUDE34_2_DEPTH)


with BuildPart() as body_13:
    # Sketch42 → Boss-Extrude36 (new body)
    with BuildSketch(Plane(origin=(0, 50.8, 0), x_dir=(1, 0, 0), z_dir=(0, 1, 0))):
        with Locations(Location((69.85, -253.913746307, 0), (0, 0, 270))):
            Circle(SKETCH42_R)
    extrude(amount=BOSS_EXTRUDE36_DEPTH)


with BuildPart() as body_14:
    # Sketch42 → Boss-Extrude36 2 (new body)
    with BuildSketch(Plane(origin=(0, 50.8, 0), x_dir=(1, 0, 0), z_dir=(0, 1, 0))):
        with Locations(Location((31.75, -253.913746307, 0), (0, 0, 270))):
            Circle(SKETCH42_R)
    extrude(amount=BOSS_EXTRUDE36_2_DEPTH)


with BuildPart() as body_15:
    # Sketch43 → Boss-Extrude37 (new body)
    with BuildSketch(Plane(origin=(0, 50.8, 0), x_dir=(1, 0, 0), z_dir=(0, 1, 0))):
        with Locations(Location((69.85, -203.2, 0), (0, 0, 270))):
            Circle(SKETCH43_R)
    extrude(amount=BOSS_EXTRUDE37_DEPTH)


with BuildPart() as body_16:
    # Sketch43 → Boss-Extrude37 2 (new body)
    with BuildSketch(Plane(origin=(0, 50.8, 0), x_dir=(1, 0, 0), z_dir=(0, 1, 0))):
        with Locations(Location((31.75, -203.2, 0), (0, 0, 270))):
            Circle(SKETCH43_R)
    extrude(amount=BOSS_EXTRUDE37_2_DEPTH)


with BuildPart() as body_17:
    # Sketch58 → Revolve-Thin3 (revolve)
    with BuildSketch(Plane(origin=(0, 88.9, 0), x_dir=(1, 0, 0), z_dir=(0, 1, 0)), mode=Mode.PRIVATE) as revolve_thin3_sk:
        with Locations((50.8, -654.532064366)):
            Rectangle(SKETCH58_W, SKETCH58_H)
    revolve(revolve_thin3_sk.sketch.rotate(Axis((69.85, 88.9, 653.262064366), (-1, 0, 0)), 180), axis=Axis((69.85, 88.9, 653.262064366), (-1, 0, 0)))


solid = Compound([part.part, body_2.part, body_3.part, body_4.part, body_5.part, body_6.part, body_7.part, body_8.part, body_9.part, body_10.part, body_11.part, body_12.part, body_13.part, body_14.part, body_15.part, body_16.part, body_17.part])
